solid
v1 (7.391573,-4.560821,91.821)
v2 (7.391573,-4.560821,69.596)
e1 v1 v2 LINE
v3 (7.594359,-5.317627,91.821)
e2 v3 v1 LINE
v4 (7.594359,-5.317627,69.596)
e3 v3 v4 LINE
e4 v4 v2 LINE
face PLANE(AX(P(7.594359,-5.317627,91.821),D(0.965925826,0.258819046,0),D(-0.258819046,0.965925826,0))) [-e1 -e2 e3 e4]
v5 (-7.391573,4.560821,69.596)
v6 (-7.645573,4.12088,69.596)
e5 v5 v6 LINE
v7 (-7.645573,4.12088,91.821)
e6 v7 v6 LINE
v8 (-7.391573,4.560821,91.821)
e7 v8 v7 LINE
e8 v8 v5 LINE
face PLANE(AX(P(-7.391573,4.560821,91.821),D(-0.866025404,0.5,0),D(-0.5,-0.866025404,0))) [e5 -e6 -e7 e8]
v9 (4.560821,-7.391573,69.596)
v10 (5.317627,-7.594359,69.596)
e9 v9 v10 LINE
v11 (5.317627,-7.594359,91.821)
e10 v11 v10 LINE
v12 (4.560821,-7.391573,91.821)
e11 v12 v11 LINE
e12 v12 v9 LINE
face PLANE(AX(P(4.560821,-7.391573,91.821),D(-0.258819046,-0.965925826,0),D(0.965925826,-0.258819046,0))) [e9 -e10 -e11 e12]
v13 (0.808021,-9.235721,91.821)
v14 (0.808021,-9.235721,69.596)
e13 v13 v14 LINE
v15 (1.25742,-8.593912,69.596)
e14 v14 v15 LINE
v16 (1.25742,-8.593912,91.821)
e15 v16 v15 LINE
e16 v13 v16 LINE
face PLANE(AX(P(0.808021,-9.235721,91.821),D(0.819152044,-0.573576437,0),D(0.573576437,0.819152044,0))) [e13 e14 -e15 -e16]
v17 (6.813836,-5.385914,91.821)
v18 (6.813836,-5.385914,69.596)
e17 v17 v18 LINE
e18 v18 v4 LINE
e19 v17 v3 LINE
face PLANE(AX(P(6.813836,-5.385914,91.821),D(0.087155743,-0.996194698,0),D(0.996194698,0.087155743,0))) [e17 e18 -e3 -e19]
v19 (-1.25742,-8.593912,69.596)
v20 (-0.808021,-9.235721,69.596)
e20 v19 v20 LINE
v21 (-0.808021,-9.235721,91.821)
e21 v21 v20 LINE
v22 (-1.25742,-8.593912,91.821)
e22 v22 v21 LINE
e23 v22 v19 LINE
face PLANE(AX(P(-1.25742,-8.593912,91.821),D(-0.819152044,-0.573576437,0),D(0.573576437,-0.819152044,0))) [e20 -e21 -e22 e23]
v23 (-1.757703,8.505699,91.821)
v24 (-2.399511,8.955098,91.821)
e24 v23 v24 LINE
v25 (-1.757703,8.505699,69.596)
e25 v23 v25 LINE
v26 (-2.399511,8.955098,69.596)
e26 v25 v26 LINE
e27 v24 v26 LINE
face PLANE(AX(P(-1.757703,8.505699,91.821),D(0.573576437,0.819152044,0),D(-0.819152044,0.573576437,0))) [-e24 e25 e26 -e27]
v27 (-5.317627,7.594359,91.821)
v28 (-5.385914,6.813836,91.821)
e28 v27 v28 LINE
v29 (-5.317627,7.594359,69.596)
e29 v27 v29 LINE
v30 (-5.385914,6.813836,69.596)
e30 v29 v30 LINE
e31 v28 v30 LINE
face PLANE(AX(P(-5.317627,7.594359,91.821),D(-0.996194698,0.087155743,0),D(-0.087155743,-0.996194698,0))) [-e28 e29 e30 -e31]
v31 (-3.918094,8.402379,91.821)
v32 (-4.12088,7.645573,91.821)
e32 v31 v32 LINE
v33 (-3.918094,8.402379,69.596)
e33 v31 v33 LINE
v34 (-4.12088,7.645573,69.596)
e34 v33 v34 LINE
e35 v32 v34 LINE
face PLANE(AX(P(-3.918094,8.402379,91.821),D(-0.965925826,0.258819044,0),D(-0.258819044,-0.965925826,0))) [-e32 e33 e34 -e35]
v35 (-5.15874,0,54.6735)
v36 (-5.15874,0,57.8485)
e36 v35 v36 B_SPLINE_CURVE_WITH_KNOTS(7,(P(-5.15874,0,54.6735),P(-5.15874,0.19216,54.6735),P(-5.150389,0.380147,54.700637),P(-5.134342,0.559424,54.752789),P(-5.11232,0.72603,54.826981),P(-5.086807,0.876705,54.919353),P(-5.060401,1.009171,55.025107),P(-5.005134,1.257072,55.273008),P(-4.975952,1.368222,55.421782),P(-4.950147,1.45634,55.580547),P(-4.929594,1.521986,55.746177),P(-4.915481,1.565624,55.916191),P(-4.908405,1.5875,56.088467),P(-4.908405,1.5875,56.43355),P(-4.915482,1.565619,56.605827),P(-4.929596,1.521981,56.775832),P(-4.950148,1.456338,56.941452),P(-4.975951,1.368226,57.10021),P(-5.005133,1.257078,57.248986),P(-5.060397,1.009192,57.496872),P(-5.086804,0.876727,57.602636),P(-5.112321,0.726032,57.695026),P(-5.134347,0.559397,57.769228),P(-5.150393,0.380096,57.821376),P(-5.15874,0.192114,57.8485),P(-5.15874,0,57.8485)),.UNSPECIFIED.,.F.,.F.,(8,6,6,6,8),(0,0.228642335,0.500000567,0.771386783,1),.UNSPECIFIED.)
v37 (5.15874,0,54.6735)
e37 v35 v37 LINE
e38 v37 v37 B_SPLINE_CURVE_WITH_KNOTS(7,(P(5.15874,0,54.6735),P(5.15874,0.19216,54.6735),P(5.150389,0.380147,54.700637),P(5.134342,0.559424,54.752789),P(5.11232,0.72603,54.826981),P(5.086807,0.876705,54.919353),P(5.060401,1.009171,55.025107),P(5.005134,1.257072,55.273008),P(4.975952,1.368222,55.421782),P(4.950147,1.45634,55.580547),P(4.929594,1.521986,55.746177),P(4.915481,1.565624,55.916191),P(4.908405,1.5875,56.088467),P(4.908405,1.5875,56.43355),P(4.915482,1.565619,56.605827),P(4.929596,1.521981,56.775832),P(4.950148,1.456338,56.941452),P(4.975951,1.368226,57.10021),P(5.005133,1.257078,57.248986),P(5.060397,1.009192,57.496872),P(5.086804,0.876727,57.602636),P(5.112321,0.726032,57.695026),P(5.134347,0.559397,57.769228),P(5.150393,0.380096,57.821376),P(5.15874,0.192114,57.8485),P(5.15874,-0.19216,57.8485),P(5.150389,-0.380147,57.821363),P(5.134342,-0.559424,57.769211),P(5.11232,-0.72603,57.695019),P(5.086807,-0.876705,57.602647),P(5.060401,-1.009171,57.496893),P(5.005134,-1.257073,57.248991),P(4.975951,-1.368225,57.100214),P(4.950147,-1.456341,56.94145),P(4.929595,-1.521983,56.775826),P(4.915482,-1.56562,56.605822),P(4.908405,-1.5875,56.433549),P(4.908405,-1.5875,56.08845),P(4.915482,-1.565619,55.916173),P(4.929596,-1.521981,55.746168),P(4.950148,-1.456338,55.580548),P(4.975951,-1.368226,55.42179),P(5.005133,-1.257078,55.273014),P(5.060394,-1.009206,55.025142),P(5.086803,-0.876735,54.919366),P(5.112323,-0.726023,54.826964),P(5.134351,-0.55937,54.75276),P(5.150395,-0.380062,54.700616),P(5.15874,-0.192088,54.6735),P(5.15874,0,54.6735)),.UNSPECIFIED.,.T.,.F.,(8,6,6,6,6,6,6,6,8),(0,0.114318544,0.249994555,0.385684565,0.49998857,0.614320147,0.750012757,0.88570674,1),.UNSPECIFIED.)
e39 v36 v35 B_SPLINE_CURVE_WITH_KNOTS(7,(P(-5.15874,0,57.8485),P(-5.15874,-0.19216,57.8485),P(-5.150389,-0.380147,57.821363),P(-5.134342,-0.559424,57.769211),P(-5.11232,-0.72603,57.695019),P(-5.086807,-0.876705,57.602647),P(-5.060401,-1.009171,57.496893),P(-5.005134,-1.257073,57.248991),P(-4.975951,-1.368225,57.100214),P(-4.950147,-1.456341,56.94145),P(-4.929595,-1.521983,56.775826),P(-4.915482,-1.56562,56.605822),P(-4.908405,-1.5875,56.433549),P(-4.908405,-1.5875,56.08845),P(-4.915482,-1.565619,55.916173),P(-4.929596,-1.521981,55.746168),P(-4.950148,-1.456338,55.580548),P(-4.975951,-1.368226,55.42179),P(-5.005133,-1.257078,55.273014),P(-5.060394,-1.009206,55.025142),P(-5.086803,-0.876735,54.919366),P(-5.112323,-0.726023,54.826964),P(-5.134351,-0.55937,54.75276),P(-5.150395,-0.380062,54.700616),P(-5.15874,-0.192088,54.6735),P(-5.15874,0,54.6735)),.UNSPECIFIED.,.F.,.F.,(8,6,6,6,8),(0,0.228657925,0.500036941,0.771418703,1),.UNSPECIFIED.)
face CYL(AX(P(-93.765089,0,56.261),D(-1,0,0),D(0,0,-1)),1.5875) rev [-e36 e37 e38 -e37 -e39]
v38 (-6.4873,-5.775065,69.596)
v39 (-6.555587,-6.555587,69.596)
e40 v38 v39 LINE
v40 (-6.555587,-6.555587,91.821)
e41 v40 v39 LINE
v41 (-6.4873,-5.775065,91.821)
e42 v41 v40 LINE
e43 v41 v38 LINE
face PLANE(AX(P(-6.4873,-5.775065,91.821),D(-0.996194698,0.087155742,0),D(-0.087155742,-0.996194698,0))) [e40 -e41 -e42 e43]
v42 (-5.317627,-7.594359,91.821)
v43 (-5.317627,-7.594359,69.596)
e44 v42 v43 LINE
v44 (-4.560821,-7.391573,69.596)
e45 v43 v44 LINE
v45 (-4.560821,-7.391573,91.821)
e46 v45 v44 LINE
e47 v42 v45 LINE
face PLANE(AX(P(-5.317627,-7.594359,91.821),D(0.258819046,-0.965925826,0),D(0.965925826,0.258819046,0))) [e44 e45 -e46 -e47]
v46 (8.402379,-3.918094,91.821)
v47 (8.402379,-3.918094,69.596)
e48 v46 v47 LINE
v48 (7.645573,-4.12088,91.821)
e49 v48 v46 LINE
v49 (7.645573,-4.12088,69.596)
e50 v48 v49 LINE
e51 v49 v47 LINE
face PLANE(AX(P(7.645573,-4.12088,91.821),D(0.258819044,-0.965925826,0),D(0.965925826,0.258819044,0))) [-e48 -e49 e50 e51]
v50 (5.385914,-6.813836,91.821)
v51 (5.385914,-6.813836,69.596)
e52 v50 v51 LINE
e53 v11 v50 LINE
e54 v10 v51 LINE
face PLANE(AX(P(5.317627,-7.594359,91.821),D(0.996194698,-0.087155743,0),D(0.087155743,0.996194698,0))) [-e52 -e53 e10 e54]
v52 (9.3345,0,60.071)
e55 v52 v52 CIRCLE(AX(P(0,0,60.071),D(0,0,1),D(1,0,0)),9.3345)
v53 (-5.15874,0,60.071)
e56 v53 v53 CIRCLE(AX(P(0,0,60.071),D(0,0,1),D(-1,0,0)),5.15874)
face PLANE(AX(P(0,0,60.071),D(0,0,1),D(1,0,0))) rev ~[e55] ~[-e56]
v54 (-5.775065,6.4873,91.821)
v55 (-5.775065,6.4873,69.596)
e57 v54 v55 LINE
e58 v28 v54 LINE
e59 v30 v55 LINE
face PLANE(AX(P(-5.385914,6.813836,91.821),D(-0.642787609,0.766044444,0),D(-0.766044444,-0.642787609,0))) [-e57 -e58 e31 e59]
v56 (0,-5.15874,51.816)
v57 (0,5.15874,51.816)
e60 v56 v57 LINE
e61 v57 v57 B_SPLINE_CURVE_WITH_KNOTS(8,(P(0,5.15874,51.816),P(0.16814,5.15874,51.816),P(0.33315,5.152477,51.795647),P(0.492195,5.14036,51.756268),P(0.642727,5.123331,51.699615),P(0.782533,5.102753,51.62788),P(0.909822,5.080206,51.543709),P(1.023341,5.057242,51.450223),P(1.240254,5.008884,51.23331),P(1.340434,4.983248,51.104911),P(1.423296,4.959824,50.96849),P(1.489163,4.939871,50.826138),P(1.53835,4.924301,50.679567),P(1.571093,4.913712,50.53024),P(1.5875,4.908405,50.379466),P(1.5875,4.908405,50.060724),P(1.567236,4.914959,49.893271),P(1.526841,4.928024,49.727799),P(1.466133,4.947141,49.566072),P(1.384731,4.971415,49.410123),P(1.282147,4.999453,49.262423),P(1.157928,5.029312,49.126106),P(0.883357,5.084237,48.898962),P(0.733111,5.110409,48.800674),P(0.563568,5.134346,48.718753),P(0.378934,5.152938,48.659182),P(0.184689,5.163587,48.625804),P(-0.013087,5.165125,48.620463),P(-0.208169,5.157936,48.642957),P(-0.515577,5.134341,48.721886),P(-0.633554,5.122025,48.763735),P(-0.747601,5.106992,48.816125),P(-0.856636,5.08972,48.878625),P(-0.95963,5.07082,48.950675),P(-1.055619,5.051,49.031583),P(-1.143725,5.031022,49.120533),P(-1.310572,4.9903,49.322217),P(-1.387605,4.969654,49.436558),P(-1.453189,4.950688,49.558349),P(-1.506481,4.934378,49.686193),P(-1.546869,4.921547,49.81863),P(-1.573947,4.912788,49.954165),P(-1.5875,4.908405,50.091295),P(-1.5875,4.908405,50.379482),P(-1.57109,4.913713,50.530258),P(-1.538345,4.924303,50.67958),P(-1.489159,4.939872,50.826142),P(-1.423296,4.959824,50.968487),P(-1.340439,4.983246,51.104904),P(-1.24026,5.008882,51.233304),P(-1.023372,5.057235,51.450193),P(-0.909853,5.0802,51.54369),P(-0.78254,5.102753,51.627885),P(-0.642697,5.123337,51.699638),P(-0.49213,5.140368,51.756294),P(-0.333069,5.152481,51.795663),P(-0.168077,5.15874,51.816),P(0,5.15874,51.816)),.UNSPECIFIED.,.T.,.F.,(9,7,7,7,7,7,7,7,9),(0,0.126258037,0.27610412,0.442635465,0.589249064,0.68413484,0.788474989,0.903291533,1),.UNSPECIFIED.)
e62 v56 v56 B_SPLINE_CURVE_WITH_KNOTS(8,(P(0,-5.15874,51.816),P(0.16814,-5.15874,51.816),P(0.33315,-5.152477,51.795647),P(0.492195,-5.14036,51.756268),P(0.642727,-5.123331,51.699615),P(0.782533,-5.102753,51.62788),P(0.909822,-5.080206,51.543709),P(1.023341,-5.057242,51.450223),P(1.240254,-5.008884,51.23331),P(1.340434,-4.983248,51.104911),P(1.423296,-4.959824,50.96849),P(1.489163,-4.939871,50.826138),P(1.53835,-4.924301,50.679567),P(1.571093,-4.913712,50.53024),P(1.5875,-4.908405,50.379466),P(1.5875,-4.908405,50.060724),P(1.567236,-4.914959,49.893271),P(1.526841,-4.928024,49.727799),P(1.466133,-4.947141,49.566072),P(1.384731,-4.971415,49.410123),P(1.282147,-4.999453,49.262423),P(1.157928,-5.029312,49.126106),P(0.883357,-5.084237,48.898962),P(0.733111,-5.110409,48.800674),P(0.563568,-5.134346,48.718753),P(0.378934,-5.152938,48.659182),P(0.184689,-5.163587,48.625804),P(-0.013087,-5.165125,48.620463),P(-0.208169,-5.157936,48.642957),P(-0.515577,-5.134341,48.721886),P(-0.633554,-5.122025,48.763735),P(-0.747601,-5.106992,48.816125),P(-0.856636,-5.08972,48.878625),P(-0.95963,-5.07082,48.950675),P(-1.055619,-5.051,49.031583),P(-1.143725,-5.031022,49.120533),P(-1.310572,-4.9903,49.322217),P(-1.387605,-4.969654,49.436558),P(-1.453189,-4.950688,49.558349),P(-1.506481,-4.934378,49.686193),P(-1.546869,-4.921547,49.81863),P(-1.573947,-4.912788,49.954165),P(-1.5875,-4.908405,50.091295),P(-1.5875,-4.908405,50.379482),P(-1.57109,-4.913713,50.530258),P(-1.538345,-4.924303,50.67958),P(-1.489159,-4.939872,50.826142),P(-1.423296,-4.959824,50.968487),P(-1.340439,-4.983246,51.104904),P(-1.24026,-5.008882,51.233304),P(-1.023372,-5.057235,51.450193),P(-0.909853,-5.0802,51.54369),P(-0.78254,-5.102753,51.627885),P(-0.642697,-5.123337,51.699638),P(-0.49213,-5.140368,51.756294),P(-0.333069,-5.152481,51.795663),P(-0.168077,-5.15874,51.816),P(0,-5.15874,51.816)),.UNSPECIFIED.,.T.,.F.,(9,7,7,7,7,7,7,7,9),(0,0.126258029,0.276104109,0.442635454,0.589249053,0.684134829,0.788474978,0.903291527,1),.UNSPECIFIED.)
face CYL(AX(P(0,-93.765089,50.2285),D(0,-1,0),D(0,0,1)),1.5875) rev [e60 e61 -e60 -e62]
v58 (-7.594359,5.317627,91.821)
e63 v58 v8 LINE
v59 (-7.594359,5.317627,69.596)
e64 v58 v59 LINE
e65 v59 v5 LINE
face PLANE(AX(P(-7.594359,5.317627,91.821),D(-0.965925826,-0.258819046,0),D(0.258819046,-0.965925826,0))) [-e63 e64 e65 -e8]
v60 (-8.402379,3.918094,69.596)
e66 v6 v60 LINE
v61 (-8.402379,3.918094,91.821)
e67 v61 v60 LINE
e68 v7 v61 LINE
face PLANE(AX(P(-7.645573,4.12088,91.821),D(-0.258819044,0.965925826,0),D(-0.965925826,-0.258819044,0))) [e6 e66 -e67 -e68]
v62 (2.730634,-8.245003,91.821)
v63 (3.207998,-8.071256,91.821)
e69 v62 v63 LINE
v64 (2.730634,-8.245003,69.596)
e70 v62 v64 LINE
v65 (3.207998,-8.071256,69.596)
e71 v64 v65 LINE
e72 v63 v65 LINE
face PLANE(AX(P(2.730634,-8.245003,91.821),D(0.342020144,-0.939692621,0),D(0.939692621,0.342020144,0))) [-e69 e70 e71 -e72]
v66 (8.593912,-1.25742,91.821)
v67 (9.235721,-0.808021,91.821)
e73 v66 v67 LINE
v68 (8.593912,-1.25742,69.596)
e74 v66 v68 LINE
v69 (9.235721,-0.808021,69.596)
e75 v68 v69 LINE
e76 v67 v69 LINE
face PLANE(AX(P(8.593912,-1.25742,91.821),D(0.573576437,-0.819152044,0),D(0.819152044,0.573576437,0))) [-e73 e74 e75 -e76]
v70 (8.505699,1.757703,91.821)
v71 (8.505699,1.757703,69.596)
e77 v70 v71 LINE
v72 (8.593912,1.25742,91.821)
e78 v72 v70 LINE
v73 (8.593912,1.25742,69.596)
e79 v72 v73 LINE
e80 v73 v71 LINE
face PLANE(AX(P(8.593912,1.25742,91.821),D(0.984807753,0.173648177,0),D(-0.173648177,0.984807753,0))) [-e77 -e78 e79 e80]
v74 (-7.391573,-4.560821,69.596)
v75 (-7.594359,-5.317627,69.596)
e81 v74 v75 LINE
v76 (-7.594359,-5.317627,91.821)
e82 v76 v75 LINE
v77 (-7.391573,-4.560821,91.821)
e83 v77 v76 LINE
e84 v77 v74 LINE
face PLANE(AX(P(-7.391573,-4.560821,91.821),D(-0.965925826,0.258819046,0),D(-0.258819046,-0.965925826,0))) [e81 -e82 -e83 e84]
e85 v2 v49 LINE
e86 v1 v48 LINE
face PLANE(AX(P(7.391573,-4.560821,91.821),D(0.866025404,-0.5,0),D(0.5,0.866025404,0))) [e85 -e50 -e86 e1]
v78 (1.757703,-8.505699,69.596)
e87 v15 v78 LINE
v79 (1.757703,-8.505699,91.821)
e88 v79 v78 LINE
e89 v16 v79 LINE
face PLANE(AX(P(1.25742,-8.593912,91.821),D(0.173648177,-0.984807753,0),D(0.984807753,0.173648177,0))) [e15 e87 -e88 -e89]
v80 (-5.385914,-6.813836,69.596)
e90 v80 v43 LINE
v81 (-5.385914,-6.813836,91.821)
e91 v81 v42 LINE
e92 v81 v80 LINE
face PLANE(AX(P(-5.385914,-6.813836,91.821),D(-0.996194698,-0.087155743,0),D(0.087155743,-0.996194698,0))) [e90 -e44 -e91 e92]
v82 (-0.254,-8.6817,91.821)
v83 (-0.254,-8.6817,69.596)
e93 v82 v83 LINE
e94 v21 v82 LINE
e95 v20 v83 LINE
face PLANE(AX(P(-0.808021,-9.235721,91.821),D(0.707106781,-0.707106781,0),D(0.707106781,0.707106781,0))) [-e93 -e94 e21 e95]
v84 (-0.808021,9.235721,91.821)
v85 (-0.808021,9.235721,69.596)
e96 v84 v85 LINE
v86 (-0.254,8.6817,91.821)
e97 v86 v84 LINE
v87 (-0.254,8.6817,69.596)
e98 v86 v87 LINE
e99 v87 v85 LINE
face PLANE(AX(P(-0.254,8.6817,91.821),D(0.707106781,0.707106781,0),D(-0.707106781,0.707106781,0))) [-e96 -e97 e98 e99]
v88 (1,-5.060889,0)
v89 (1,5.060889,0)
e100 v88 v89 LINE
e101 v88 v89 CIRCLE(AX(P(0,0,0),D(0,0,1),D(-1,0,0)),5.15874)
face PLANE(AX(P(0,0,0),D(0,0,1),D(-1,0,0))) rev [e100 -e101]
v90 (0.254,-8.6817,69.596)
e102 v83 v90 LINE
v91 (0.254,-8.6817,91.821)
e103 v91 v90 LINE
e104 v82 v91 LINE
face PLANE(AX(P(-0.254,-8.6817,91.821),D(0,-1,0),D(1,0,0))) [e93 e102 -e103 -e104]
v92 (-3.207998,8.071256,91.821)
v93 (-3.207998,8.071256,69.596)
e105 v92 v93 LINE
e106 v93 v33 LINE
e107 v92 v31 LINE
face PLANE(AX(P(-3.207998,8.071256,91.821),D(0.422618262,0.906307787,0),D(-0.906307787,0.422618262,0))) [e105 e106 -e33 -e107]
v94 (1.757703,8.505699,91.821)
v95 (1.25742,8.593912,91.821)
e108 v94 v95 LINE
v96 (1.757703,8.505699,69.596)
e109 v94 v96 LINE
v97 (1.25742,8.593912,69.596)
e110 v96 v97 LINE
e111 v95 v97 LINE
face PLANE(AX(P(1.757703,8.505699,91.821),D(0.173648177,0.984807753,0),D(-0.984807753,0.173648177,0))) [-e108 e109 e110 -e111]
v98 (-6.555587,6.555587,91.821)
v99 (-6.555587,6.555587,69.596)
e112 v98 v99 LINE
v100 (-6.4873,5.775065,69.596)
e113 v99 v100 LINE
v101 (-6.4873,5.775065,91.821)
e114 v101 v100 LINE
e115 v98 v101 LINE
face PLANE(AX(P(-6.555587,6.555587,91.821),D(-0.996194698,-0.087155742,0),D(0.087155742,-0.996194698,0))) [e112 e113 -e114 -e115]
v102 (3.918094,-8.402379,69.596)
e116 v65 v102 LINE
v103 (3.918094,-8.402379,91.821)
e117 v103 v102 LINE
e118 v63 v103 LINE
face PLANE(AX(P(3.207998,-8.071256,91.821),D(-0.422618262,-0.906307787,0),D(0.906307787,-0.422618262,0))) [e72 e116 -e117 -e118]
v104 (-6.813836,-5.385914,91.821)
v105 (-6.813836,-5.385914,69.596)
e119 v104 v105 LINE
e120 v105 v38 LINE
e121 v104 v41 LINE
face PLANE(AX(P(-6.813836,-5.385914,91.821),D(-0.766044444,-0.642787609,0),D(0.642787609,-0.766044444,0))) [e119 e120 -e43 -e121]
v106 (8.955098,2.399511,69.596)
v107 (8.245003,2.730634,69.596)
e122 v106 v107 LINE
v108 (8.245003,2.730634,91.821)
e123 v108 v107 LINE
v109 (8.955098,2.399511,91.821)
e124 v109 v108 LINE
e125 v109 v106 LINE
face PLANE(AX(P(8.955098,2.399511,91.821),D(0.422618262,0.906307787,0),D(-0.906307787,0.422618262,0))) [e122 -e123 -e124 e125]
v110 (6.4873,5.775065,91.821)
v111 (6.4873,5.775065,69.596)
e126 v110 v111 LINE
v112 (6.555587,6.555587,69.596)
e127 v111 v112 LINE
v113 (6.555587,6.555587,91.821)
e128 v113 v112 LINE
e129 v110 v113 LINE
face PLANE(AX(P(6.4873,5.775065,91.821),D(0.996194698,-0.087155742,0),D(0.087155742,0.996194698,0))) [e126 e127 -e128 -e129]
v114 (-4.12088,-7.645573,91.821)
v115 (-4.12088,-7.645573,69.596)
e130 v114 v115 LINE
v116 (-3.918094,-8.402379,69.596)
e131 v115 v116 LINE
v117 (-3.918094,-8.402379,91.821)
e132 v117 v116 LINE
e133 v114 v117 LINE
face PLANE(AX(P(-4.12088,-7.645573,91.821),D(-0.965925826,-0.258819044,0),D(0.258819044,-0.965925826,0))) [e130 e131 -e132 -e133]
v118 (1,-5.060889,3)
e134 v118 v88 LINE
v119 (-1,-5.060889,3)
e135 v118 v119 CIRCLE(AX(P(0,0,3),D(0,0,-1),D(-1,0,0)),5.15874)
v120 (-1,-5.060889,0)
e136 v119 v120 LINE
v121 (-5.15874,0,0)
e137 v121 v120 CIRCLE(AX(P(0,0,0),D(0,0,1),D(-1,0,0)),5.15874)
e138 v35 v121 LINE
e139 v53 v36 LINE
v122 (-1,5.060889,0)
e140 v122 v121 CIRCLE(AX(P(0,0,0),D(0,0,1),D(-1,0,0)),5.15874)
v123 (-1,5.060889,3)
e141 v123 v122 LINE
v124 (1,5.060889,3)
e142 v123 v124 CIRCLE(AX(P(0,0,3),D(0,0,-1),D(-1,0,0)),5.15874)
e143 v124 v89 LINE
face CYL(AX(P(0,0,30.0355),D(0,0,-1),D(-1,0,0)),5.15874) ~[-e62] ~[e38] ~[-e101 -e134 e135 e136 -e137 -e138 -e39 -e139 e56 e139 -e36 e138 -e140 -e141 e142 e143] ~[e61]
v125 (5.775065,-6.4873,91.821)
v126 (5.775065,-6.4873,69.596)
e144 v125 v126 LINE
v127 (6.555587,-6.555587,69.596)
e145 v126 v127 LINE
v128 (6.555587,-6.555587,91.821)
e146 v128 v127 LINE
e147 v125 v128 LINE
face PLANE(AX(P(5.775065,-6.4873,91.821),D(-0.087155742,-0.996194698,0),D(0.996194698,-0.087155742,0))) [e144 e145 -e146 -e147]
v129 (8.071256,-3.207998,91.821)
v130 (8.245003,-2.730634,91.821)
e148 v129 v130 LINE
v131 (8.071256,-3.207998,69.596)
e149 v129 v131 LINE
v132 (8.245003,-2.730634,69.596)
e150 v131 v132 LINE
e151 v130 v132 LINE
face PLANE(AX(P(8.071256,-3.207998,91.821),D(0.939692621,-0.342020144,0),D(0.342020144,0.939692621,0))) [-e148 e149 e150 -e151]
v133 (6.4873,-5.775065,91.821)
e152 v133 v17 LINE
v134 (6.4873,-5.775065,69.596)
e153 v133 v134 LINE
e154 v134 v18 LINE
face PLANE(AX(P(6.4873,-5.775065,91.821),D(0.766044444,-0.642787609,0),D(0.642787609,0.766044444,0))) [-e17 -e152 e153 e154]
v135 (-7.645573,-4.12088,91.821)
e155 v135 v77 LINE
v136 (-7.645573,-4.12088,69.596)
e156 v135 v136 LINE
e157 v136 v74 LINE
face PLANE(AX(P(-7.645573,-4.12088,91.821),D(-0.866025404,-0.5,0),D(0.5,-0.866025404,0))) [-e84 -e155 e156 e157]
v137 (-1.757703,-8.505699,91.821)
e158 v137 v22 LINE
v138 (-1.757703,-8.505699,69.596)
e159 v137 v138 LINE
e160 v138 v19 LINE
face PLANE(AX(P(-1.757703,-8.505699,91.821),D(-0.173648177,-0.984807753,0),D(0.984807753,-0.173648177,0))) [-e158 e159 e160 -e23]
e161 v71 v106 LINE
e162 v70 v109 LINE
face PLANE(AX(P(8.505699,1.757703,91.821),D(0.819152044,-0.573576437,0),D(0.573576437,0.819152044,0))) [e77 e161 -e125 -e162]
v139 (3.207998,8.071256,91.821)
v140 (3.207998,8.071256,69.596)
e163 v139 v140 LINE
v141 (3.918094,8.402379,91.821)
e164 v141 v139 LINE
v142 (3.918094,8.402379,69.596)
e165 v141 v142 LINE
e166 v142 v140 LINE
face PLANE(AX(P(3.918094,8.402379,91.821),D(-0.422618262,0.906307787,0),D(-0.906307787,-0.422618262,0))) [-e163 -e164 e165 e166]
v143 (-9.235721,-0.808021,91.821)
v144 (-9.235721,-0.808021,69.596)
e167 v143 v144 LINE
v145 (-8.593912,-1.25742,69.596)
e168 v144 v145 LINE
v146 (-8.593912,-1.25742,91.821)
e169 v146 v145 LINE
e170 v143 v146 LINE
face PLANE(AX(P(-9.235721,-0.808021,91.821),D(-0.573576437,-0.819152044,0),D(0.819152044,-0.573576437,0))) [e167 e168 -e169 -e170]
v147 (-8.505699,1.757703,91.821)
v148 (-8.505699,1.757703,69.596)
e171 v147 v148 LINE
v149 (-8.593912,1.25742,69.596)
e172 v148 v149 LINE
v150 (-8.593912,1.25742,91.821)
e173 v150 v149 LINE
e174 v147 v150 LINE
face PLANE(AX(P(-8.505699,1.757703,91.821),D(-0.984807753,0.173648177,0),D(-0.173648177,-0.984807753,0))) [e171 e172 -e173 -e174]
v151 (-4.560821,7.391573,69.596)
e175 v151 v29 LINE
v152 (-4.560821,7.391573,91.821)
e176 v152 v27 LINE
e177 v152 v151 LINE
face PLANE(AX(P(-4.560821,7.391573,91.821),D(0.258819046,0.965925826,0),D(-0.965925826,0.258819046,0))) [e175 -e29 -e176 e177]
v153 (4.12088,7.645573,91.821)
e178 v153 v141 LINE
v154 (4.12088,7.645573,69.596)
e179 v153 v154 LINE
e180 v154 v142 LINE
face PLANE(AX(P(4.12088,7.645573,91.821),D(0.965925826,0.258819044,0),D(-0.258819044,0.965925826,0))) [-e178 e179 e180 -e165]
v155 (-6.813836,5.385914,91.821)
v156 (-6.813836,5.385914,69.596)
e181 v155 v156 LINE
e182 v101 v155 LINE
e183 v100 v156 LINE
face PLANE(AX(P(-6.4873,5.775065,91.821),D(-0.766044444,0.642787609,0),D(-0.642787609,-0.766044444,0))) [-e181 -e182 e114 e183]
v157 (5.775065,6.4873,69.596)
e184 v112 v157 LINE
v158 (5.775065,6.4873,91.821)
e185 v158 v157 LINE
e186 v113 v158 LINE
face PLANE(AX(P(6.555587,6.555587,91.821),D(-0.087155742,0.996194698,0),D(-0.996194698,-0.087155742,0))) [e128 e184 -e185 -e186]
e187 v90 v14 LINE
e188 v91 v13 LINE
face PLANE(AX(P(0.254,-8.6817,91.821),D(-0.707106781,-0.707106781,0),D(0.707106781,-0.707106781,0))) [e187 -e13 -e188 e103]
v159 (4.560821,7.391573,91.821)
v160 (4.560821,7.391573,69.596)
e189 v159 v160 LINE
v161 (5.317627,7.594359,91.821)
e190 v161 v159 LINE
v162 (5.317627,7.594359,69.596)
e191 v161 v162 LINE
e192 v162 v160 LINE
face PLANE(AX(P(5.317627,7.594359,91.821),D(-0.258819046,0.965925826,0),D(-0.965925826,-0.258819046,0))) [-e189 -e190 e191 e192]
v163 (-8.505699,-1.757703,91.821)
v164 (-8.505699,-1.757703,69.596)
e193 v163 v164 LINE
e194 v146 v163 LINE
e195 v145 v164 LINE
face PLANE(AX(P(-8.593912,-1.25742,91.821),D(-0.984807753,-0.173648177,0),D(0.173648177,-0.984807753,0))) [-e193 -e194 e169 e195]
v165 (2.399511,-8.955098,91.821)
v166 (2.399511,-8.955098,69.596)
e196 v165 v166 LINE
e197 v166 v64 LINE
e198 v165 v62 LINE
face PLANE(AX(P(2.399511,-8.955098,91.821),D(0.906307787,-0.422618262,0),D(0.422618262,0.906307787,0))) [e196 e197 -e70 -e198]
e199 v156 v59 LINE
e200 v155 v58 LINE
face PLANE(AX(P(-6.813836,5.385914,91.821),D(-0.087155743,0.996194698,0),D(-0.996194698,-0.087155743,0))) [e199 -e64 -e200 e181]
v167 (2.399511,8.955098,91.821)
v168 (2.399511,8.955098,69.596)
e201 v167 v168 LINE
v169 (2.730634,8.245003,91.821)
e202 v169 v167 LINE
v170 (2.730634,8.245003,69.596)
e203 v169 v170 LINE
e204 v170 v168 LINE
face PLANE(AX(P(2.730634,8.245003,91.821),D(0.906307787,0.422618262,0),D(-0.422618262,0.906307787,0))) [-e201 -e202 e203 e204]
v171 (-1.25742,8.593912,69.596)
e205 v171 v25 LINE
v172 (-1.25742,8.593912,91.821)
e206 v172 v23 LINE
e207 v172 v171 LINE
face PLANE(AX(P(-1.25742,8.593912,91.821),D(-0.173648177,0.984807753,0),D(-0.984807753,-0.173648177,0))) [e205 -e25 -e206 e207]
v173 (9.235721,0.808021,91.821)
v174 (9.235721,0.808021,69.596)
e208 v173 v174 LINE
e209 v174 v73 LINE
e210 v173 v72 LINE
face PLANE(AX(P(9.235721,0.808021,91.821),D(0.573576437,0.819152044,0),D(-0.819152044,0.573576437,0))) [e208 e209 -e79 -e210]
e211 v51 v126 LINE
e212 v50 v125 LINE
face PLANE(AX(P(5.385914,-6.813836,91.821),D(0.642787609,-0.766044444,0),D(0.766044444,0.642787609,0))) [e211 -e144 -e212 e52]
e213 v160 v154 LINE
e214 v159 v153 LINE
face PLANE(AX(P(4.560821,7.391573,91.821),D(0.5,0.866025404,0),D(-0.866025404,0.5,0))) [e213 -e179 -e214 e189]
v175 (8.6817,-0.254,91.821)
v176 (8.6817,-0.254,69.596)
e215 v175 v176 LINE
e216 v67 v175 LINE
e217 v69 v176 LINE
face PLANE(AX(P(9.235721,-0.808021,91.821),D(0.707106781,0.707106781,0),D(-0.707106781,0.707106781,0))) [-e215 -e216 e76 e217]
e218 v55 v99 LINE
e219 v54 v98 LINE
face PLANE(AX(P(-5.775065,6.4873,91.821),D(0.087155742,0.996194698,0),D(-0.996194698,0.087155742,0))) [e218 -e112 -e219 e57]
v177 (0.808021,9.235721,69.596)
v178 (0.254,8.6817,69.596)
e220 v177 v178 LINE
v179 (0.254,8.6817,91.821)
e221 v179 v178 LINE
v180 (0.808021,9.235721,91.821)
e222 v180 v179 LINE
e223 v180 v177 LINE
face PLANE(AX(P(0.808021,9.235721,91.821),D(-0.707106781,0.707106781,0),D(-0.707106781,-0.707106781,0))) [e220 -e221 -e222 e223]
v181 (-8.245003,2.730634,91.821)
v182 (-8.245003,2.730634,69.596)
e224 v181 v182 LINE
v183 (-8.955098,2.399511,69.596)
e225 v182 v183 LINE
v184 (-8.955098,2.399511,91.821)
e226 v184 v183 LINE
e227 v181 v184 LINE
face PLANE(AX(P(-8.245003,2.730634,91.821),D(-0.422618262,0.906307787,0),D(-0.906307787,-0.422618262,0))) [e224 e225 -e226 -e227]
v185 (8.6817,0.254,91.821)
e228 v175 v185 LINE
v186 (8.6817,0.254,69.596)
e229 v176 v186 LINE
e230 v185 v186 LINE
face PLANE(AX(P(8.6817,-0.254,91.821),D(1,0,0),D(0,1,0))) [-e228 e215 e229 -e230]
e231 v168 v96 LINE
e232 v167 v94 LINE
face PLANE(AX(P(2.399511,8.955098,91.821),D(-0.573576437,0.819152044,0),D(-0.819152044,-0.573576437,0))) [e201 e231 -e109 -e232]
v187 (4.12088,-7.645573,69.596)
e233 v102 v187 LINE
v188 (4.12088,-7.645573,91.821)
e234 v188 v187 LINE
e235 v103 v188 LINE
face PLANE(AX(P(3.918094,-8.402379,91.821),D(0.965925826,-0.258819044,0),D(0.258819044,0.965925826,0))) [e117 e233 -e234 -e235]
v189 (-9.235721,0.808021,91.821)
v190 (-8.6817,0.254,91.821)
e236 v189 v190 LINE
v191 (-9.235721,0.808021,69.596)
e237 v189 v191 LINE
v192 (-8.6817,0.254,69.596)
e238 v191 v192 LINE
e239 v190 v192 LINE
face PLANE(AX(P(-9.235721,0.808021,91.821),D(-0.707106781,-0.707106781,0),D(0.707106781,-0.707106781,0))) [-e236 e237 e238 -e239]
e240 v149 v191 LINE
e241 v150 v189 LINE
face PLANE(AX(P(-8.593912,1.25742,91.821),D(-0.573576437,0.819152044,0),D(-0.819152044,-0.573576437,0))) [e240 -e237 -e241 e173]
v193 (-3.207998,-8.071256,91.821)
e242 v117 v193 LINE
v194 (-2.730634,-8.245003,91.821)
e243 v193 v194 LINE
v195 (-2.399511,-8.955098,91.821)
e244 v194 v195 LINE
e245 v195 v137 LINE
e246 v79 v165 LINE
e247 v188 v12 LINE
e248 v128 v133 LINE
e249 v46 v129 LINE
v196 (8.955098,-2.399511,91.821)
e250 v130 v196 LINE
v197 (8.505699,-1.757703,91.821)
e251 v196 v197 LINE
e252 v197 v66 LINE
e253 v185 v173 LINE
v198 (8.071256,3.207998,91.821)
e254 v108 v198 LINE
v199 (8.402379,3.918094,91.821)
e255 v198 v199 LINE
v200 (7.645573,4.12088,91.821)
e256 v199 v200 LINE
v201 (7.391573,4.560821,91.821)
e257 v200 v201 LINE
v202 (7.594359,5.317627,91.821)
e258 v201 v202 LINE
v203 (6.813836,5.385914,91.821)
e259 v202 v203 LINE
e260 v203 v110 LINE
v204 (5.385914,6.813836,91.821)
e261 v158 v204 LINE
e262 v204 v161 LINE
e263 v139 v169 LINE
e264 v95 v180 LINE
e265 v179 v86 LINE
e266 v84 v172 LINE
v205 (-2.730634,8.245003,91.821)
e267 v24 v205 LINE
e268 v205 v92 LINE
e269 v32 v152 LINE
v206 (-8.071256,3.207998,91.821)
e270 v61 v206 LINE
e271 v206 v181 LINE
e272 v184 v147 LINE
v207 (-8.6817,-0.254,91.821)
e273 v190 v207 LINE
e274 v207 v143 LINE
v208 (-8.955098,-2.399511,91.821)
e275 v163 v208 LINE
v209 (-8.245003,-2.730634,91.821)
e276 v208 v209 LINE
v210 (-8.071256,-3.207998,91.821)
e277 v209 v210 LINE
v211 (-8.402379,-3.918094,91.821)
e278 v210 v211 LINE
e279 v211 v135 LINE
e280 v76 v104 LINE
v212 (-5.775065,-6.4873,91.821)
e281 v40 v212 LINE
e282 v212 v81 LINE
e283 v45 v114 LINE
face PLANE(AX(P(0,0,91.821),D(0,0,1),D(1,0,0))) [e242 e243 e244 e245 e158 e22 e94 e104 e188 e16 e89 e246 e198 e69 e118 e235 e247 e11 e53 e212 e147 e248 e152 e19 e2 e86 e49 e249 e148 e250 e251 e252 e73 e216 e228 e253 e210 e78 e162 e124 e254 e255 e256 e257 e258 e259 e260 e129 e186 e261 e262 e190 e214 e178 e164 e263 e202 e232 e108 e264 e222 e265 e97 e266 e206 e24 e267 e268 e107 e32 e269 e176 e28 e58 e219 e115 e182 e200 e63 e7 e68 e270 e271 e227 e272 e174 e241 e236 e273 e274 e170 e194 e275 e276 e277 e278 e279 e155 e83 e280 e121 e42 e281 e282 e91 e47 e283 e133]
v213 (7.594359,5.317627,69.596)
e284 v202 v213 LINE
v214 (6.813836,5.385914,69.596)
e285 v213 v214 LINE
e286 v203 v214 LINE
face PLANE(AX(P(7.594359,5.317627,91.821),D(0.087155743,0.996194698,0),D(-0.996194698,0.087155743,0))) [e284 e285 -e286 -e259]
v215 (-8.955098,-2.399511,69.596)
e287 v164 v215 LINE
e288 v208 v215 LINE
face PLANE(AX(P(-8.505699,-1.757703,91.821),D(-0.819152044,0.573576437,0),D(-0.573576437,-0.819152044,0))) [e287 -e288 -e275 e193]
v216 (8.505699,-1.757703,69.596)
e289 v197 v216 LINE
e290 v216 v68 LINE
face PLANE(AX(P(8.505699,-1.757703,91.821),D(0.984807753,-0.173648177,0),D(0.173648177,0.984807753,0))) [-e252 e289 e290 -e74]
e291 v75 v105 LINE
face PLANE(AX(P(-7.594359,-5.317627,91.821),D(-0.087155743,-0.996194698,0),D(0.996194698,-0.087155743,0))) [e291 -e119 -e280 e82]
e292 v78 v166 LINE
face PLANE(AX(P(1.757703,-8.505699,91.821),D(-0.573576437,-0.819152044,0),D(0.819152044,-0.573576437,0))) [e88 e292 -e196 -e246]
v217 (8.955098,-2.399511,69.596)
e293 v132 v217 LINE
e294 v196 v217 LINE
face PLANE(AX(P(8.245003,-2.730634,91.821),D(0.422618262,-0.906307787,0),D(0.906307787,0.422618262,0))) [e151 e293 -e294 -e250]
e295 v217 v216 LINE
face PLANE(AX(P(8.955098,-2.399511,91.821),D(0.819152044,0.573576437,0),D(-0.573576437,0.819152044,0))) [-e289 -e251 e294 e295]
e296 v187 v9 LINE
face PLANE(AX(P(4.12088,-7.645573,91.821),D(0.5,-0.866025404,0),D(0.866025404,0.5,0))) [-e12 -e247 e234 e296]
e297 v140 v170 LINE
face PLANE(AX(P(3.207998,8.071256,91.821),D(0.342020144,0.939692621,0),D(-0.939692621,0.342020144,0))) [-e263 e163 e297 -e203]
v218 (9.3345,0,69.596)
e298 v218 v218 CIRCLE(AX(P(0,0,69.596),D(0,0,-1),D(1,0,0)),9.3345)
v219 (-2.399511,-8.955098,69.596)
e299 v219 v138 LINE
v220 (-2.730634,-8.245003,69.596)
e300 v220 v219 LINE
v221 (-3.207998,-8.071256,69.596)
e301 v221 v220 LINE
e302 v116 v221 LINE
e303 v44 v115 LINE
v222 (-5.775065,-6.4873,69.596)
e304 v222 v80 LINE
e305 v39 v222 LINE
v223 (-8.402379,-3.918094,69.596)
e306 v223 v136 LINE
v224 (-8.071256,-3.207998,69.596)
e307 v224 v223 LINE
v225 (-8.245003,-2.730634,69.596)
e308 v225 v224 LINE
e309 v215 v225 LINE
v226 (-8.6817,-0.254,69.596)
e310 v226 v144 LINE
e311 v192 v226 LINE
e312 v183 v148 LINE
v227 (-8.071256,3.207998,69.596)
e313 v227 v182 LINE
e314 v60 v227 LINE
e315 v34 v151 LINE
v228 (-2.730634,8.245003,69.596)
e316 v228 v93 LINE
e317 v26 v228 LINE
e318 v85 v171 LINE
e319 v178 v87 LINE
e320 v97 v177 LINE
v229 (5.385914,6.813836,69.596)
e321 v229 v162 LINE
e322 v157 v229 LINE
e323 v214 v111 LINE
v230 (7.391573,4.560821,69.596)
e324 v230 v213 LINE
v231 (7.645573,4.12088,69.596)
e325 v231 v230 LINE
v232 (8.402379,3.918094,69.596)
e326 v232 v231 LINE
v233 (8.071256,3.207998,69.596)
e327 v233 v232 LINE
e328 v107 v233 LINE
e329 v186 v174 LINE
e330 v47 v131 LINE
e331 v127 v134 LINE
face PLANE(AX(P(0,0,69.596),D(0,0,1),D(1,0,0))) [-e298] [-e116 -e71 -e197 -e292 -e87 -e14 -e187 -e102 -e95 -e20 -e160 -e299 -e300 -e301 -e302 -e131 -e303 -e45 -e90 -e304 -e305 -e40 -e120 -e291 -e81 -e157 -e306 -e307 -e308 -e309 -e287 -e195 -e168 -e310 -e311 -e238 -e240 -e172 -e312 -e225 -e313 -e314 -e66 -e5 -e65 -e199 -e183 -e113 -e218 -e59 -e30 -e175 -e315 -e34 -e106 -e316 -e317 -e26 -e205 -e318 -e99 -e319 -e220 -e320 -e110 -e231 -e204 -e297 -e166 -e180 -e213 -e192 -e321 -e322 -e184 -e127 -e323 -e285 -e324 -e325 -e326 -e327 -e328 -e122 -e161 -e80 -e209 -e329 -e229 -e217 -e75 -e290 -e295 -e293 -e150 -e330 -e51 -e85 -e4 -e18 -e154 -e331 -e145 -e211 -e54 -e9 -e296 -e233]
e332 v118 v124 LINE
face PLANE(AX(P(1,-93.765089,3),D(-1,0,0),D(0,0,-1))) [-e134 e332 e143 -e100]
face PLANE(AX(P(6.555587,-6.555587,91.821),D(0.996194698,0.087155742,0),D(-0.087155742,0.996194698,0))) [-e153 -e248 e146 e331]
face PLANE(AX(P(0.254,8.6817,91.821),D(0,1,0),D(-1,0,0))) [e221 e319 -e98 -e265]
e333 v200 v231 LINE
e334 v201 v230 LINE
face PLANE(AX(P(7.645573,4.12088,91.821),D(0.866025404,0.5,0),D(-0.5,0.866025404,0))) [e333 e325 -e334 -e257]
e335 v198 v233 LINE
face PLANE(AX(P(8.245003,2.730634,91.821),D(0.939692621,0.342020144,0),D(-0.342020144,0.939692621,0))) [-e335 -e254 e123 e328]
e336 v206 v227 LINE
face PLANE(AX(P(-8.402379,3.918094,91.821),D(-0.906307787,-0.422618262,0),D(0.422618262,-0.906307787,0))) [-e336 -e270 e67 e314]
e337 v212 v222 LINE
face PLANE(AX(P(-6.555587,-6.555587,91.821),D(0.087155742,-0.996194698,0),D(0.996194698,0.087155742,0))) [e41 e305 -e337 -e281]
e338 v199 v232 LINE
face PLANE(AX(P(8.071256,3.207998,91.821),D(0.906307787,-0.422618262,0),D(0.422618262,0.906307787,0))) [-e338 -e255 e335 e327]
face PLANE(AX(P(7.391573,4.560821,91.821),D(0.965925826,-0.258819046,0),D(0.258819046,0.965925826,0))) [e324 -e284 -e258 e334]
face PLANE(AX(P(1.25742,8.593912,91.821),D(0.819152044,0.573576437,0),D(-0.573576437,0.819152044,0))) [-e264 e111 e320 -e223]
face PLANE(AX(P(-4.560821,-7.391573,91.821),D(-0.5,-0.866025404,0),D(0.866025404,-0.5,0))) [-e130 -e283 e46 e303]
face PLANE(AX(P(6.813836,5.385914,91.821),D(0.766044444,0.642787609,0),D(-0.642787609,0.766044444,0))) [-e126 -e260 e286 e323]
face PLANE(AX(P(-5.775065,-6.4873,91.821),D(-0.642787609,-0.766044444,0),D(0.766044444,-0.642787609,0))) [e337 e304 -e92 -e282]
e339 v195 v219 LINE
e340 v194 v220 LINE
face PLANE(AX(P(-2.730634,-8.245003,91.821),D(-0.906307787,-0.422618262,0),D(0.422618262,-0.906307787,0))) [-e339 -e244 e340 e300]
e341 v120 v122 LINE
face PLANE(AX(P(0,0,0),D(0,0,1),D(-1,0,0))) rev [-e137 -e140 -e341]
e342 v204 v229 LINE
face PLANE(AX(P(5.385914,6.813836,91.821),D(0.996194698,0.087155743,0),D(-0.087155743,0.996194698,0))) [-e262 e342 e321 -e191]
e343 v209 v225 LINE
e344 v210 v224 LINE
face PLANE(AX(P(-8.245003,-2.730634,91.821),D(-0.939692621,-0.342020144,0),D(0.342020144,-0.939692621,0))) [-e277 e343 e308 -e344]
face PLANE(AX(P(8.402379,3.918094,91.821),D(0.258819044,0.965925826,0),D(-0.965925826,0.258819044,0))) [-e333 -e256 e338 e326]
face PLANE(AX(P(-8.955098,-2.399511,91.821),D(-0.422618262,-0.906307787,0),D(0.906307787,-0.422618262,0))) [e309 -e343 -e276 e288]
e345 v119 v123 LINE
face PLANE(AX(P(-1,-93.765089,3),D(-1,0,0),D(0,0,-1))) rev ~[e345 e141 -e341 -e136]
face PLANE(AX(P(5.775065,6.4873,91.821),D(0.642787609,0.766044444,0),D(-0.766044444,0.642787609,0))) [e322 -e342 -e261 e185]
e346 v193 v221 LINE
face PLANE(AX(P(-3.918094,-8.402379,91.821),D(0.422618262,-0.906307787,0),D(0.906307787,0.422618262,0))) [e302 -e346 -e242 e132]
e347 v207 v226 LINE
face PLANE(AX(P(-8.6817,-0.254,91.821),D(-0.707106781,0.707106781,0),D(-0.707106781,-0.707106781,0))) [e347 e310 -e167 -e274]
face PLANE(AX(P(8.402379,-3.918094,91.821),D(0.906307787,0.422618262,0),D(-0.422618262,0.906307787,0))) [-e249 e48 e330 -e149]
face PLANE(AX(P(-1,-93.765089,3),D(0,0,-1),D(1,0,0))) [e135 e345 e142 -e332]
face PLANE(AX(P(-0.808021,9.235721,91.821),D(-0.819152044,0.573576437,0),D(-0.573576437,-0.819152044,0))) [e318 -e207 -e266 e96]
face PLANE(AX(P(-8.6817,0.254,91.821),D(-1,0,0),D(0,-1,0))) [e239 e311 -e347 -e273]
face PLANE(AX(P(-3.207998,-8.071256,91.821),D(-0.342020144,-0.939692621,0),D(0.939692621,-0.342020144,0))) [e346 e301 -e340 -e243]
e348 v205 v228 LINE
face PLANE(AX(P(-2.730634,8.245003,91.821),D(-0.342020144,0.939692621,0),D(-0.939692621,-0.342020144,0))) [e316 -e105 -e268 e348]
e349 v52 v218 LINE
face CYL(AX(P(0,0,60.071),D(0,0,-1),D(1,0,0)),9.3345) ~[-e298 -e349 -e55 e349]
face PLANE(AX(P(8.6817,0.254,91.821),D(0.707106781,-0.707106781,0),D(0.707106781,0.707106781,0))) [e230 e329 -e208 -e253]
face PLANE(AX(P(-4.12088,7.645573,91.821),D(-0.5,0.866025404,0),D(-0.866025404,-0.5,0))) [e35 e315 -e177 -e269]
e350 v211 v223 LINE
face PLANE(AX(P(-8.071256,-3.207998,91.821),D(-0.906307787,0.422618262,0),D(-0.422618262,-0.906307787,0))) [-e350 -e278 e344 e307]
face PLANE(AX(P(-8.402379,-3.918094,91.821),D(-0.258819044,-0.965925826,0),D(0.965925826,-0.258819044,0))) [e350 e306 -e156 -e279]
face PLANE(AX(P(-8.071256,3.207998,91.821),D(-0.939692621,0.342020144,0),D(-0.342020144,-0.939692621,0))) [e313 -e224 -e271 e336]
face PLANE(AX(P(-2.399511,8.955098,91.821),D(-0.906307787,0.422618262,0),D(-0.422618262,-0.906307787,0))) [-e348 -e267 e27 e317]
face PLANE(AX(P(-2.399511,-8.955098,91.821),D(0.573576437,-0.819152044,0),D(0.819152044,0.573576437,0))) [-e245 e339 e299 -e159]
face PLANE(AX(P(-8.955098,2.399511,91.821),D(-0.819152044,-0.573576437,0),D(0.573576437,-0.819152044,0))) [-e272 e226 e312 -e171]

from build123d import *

# Parameters (mm, degrees)
SKETCH5_W                = 5.15874
SKETCH5_H                = 60.071
SKETCH10_R               = 9.3345
BOSS_EXTRUDE1_DEPTH      = 31.75
CUT_EXTRUDE7_START       = 91.821
SKETCH8_R                = 12.7
CUT_EXTRUDE7_DEPTH       = 22.225
CUT_EXTRUDE9_DEPTH       = 93.765089454
CUT_EXTRUDE9_DEPTH_BACK  = 93.765089454
SKETCH11_W               = 2
SKETCH11_H               = 3
CUT_EXTRUDE10_DEPTH      = 93.765089454
CUT_EXTRUDE10_DEPTH_BACK = 93.765089454
SKETCH12_R               = 1.5875
CUT_EXTRUDE11_DEPTH      = 93.765089454
CUT_EXTRUDE11_DEPTH_BACK = 93.765089454
SKETCH13_R               = 1.5875


with BuildPart() as part:
    # Sketch5 → Revolve2 (revolve)
    with BuildSketch(Plane(origin=(0, 0, 0), x_dir=(1, 0, 0), z_dir=(0, 1, 0)), mode=Mode.PRIVATE) as revolve2_sk:
        with Locations((2.57937, -30.0355)):
            Rectangle(SKETCH5_W, SKETCH5_H)
    revolve(revolve2_sk.sketch.rotate(Axis((0, 0, 0), (0, 0, 1)), 180), axis=Axis((0, 0, 0), (0, 0, 1)))

    # Sketch10 → Boss-Extrude1 (add)
    with BuildSketch(Plane.XY.offset(60.071)):
        Circle(SKETCH10_R)
    extrude(amount=BOSS_EXTRUDE1_DEPTH)

    # Sketch8 → Cut-Extrude7 (cut)
    with BuildSketch(Plane.XY.offset(CUT_EXTRUDE7_START)):
        Circle(SKETCH8_R)
        Polygon((9.235721046, -0.808020891), (8.681700155, -0.254), (8.681700155, 0.254), (9.235721046, 0.808020891), (8.593912259, 1.257420242), (8.505698985, 1.75770258), (8.955098336, 2.399511367), (8.245002688, 2.730634406), (8.071256455, 3.207998257), (8.402379494, 3.918093905), (7.645572882, 4.120879625), (7.391572882, 4.56082053), (7.594358603, 5.317627141), (6.813836213, 5.385914002), (6.487300108, 5.775064579), (6.555586968, 6.555586968), (5.775064579, 6.487300108), (5.385914002, 6.813836213), (5.317627141, 7.594358603), (4.56082053, 7.391572882), (4.120879625, 7.645572882), (3.918093905, 8.402379494), (3.207998257, 8.071256455), (2.730634406, 8.245002688), (2.399511367, 8.955098336), (1.75770258, 8.505698985), (1.257420242, 8.593912259), (0.808020891, 9.235721046), (0.254, 8.681700155), (-0.254, 8.681700155), (-0.808020891, 9.235721046), (-1.257420242, 8.593912259), (-1.75770258, 8.505698985), (-2.399511367, 8.955098336), (-2.730634406, 8.245002688), (-3.207998257, 8.071256455), (-3.918093905, 8.402379494), (-4.120879625, 7.645572882), (-4.56082053, 7.391572882), (-5.317627141, 7.594358603), (-5.385914002, 6.813836213), (-5.775064579, 6.487300108), (-6.555586968, 6.555586968), (-6.487300108, 5.775064579), (-6.813836213, 5.385914002), (-7.594358603, 5.317627141), (-7.391572882, 4.56082053), (-7.645572882, 4.120879625), (-8.402379494, 3.918093905), (-8.071256455, 3.207998257), (-8.245002688, 2.730634406), (-8.955098336, 2.399511367), (-8.505698985, 1.75770258), (-8.593912259, 1.257420242), (-9.235721046, 0.808020891), (-8.681700155, 0.254), (-8.681700155, -0.254), (-9.235721046, -0.808020891), (-8.593912259, -1.257420242), (-8.505698985, -1.75770258), (-8.955098336, -2.399511367), (-8.245002688, -2.730634406), (-8.071256455, -3.207998257), (-8.402379494, -3.918093905), (-7.645572882, -4.120879625), (-7.391572882, -4.56082053), (-7.594358603, -5.317627141), (-6.813836213, -5.385914002), (-6.487300108, -5.775064579), (-6.555586968, -6.555586968), (-5.775064579, -6.487300108), (-5.385914002, -6.813836213), (-5.317627141, -7.594358603), (-4.56082053, -7.391572882), (-4.120879625, -7.645572882), (-3.918093905, -8.402379494), (-3.207998257, -8.071256455), (-2.730634406, -8.245002688), (-2.399511367, -8.955098336), (-1.75770258, -8.505698985), (-1.257420242, -8.593912259), (-0.808020891, -9.235721046), (-0.254, -8.681700155), (0.254, -8.681700155), (0.808020891, -9.235721046), (1.257420242, -8.593912259), (1.75770258, -8.505698985), (2.399511367, -8.955098336), (2.730634406, -8.245002688), (3.207998257, -8.071256455), (3.918093905, -8.402379494), (4.120879625, -7.645572882), (4.56082053, -7.391572882), (5.317627141, -7.594358603), (5.385914002, -6.813836213), (5.775064579, -6.487300108), (6.555586968, -6.555586968), (6.487300108, -5.775064579), (6.813836213, -5.385914002), (7.594358603, -5.317627141), (7.391572882, -4.56082053), (7.645572882, -4.120879625), (8.402379494, -3.918093905), (8.071256455, -3.207998257), (8.245002688, -2.730634406), (8.955098336, -2.399511367), (8.505698985, -1.75770258), (8.593912259, -1.257420242), align=None, mode=Mode.SUBTRACT)
    extrude(amount=-CUT_EXTRUDE7_DEPTH, mode=Mode.SUBTRACT)

    # Sketch11 → Cut-Extrude9 (cut, two sides: drawn at the far end of the back side and taken through both)
    with BuildSketch(Plane(origin=(0, 0, 0), x_dir=(1, 0, 0), z_dir=(0, 1, 0)).offset(-CUT_EXTRUDE9_DEPTH_BACK)):
        with Locations((0, -1.5)):
            Rectangle(SKETCH11_W, SKETCH11_H)
    extrude(amount=CUT_EXTRUDE9_DEPTH + CUT_EXTRUDE9_DEPTH_BACK, mode=Mode.SUBTRACT)

    # Sketch12 → Cut-Extrude10 (cut, two sides: drawn at the far end of the back side and taken through both)
    with BuildSketch(Plane(origin=(0, 0, 0), x_dir=(1, 0, 0), z_dir=(0, 1, 0)).offset(-CUT_EXTRUDE10_DEPTH_BACK)):
        with Locations(Location((0, -50.2285, 0), (0, 0, 270))):
            Circle(SKETCH12_R)
    extrude(amount=CUT_EXTRUDE10_DEPTH + CUT_EXTRUDE10_DEPTH_BACK, mode=Mode.SUBTRACT)

    # Sketch13 → Cut-Extrude11 (cut, two sides: drawn at the far end of the back side and taken through both)
    with BuildSketch(Plane(origin=(0, 0, 0), x_dir=(0, 0, -1), z_dir=(1, 0, 0)).offset(-CUT_EXTRUDE11_DEPTH_BACK)):
        with Locations((-56.261, 0)):
            Circle(SKETCH13_R)
    extrude(amount=CUT_EXTRUDE11_DEPTH + CUT_EXTRUDE11_DEPTH_BACK, mode=Mode.SUBTRACT)


solid = part.part
